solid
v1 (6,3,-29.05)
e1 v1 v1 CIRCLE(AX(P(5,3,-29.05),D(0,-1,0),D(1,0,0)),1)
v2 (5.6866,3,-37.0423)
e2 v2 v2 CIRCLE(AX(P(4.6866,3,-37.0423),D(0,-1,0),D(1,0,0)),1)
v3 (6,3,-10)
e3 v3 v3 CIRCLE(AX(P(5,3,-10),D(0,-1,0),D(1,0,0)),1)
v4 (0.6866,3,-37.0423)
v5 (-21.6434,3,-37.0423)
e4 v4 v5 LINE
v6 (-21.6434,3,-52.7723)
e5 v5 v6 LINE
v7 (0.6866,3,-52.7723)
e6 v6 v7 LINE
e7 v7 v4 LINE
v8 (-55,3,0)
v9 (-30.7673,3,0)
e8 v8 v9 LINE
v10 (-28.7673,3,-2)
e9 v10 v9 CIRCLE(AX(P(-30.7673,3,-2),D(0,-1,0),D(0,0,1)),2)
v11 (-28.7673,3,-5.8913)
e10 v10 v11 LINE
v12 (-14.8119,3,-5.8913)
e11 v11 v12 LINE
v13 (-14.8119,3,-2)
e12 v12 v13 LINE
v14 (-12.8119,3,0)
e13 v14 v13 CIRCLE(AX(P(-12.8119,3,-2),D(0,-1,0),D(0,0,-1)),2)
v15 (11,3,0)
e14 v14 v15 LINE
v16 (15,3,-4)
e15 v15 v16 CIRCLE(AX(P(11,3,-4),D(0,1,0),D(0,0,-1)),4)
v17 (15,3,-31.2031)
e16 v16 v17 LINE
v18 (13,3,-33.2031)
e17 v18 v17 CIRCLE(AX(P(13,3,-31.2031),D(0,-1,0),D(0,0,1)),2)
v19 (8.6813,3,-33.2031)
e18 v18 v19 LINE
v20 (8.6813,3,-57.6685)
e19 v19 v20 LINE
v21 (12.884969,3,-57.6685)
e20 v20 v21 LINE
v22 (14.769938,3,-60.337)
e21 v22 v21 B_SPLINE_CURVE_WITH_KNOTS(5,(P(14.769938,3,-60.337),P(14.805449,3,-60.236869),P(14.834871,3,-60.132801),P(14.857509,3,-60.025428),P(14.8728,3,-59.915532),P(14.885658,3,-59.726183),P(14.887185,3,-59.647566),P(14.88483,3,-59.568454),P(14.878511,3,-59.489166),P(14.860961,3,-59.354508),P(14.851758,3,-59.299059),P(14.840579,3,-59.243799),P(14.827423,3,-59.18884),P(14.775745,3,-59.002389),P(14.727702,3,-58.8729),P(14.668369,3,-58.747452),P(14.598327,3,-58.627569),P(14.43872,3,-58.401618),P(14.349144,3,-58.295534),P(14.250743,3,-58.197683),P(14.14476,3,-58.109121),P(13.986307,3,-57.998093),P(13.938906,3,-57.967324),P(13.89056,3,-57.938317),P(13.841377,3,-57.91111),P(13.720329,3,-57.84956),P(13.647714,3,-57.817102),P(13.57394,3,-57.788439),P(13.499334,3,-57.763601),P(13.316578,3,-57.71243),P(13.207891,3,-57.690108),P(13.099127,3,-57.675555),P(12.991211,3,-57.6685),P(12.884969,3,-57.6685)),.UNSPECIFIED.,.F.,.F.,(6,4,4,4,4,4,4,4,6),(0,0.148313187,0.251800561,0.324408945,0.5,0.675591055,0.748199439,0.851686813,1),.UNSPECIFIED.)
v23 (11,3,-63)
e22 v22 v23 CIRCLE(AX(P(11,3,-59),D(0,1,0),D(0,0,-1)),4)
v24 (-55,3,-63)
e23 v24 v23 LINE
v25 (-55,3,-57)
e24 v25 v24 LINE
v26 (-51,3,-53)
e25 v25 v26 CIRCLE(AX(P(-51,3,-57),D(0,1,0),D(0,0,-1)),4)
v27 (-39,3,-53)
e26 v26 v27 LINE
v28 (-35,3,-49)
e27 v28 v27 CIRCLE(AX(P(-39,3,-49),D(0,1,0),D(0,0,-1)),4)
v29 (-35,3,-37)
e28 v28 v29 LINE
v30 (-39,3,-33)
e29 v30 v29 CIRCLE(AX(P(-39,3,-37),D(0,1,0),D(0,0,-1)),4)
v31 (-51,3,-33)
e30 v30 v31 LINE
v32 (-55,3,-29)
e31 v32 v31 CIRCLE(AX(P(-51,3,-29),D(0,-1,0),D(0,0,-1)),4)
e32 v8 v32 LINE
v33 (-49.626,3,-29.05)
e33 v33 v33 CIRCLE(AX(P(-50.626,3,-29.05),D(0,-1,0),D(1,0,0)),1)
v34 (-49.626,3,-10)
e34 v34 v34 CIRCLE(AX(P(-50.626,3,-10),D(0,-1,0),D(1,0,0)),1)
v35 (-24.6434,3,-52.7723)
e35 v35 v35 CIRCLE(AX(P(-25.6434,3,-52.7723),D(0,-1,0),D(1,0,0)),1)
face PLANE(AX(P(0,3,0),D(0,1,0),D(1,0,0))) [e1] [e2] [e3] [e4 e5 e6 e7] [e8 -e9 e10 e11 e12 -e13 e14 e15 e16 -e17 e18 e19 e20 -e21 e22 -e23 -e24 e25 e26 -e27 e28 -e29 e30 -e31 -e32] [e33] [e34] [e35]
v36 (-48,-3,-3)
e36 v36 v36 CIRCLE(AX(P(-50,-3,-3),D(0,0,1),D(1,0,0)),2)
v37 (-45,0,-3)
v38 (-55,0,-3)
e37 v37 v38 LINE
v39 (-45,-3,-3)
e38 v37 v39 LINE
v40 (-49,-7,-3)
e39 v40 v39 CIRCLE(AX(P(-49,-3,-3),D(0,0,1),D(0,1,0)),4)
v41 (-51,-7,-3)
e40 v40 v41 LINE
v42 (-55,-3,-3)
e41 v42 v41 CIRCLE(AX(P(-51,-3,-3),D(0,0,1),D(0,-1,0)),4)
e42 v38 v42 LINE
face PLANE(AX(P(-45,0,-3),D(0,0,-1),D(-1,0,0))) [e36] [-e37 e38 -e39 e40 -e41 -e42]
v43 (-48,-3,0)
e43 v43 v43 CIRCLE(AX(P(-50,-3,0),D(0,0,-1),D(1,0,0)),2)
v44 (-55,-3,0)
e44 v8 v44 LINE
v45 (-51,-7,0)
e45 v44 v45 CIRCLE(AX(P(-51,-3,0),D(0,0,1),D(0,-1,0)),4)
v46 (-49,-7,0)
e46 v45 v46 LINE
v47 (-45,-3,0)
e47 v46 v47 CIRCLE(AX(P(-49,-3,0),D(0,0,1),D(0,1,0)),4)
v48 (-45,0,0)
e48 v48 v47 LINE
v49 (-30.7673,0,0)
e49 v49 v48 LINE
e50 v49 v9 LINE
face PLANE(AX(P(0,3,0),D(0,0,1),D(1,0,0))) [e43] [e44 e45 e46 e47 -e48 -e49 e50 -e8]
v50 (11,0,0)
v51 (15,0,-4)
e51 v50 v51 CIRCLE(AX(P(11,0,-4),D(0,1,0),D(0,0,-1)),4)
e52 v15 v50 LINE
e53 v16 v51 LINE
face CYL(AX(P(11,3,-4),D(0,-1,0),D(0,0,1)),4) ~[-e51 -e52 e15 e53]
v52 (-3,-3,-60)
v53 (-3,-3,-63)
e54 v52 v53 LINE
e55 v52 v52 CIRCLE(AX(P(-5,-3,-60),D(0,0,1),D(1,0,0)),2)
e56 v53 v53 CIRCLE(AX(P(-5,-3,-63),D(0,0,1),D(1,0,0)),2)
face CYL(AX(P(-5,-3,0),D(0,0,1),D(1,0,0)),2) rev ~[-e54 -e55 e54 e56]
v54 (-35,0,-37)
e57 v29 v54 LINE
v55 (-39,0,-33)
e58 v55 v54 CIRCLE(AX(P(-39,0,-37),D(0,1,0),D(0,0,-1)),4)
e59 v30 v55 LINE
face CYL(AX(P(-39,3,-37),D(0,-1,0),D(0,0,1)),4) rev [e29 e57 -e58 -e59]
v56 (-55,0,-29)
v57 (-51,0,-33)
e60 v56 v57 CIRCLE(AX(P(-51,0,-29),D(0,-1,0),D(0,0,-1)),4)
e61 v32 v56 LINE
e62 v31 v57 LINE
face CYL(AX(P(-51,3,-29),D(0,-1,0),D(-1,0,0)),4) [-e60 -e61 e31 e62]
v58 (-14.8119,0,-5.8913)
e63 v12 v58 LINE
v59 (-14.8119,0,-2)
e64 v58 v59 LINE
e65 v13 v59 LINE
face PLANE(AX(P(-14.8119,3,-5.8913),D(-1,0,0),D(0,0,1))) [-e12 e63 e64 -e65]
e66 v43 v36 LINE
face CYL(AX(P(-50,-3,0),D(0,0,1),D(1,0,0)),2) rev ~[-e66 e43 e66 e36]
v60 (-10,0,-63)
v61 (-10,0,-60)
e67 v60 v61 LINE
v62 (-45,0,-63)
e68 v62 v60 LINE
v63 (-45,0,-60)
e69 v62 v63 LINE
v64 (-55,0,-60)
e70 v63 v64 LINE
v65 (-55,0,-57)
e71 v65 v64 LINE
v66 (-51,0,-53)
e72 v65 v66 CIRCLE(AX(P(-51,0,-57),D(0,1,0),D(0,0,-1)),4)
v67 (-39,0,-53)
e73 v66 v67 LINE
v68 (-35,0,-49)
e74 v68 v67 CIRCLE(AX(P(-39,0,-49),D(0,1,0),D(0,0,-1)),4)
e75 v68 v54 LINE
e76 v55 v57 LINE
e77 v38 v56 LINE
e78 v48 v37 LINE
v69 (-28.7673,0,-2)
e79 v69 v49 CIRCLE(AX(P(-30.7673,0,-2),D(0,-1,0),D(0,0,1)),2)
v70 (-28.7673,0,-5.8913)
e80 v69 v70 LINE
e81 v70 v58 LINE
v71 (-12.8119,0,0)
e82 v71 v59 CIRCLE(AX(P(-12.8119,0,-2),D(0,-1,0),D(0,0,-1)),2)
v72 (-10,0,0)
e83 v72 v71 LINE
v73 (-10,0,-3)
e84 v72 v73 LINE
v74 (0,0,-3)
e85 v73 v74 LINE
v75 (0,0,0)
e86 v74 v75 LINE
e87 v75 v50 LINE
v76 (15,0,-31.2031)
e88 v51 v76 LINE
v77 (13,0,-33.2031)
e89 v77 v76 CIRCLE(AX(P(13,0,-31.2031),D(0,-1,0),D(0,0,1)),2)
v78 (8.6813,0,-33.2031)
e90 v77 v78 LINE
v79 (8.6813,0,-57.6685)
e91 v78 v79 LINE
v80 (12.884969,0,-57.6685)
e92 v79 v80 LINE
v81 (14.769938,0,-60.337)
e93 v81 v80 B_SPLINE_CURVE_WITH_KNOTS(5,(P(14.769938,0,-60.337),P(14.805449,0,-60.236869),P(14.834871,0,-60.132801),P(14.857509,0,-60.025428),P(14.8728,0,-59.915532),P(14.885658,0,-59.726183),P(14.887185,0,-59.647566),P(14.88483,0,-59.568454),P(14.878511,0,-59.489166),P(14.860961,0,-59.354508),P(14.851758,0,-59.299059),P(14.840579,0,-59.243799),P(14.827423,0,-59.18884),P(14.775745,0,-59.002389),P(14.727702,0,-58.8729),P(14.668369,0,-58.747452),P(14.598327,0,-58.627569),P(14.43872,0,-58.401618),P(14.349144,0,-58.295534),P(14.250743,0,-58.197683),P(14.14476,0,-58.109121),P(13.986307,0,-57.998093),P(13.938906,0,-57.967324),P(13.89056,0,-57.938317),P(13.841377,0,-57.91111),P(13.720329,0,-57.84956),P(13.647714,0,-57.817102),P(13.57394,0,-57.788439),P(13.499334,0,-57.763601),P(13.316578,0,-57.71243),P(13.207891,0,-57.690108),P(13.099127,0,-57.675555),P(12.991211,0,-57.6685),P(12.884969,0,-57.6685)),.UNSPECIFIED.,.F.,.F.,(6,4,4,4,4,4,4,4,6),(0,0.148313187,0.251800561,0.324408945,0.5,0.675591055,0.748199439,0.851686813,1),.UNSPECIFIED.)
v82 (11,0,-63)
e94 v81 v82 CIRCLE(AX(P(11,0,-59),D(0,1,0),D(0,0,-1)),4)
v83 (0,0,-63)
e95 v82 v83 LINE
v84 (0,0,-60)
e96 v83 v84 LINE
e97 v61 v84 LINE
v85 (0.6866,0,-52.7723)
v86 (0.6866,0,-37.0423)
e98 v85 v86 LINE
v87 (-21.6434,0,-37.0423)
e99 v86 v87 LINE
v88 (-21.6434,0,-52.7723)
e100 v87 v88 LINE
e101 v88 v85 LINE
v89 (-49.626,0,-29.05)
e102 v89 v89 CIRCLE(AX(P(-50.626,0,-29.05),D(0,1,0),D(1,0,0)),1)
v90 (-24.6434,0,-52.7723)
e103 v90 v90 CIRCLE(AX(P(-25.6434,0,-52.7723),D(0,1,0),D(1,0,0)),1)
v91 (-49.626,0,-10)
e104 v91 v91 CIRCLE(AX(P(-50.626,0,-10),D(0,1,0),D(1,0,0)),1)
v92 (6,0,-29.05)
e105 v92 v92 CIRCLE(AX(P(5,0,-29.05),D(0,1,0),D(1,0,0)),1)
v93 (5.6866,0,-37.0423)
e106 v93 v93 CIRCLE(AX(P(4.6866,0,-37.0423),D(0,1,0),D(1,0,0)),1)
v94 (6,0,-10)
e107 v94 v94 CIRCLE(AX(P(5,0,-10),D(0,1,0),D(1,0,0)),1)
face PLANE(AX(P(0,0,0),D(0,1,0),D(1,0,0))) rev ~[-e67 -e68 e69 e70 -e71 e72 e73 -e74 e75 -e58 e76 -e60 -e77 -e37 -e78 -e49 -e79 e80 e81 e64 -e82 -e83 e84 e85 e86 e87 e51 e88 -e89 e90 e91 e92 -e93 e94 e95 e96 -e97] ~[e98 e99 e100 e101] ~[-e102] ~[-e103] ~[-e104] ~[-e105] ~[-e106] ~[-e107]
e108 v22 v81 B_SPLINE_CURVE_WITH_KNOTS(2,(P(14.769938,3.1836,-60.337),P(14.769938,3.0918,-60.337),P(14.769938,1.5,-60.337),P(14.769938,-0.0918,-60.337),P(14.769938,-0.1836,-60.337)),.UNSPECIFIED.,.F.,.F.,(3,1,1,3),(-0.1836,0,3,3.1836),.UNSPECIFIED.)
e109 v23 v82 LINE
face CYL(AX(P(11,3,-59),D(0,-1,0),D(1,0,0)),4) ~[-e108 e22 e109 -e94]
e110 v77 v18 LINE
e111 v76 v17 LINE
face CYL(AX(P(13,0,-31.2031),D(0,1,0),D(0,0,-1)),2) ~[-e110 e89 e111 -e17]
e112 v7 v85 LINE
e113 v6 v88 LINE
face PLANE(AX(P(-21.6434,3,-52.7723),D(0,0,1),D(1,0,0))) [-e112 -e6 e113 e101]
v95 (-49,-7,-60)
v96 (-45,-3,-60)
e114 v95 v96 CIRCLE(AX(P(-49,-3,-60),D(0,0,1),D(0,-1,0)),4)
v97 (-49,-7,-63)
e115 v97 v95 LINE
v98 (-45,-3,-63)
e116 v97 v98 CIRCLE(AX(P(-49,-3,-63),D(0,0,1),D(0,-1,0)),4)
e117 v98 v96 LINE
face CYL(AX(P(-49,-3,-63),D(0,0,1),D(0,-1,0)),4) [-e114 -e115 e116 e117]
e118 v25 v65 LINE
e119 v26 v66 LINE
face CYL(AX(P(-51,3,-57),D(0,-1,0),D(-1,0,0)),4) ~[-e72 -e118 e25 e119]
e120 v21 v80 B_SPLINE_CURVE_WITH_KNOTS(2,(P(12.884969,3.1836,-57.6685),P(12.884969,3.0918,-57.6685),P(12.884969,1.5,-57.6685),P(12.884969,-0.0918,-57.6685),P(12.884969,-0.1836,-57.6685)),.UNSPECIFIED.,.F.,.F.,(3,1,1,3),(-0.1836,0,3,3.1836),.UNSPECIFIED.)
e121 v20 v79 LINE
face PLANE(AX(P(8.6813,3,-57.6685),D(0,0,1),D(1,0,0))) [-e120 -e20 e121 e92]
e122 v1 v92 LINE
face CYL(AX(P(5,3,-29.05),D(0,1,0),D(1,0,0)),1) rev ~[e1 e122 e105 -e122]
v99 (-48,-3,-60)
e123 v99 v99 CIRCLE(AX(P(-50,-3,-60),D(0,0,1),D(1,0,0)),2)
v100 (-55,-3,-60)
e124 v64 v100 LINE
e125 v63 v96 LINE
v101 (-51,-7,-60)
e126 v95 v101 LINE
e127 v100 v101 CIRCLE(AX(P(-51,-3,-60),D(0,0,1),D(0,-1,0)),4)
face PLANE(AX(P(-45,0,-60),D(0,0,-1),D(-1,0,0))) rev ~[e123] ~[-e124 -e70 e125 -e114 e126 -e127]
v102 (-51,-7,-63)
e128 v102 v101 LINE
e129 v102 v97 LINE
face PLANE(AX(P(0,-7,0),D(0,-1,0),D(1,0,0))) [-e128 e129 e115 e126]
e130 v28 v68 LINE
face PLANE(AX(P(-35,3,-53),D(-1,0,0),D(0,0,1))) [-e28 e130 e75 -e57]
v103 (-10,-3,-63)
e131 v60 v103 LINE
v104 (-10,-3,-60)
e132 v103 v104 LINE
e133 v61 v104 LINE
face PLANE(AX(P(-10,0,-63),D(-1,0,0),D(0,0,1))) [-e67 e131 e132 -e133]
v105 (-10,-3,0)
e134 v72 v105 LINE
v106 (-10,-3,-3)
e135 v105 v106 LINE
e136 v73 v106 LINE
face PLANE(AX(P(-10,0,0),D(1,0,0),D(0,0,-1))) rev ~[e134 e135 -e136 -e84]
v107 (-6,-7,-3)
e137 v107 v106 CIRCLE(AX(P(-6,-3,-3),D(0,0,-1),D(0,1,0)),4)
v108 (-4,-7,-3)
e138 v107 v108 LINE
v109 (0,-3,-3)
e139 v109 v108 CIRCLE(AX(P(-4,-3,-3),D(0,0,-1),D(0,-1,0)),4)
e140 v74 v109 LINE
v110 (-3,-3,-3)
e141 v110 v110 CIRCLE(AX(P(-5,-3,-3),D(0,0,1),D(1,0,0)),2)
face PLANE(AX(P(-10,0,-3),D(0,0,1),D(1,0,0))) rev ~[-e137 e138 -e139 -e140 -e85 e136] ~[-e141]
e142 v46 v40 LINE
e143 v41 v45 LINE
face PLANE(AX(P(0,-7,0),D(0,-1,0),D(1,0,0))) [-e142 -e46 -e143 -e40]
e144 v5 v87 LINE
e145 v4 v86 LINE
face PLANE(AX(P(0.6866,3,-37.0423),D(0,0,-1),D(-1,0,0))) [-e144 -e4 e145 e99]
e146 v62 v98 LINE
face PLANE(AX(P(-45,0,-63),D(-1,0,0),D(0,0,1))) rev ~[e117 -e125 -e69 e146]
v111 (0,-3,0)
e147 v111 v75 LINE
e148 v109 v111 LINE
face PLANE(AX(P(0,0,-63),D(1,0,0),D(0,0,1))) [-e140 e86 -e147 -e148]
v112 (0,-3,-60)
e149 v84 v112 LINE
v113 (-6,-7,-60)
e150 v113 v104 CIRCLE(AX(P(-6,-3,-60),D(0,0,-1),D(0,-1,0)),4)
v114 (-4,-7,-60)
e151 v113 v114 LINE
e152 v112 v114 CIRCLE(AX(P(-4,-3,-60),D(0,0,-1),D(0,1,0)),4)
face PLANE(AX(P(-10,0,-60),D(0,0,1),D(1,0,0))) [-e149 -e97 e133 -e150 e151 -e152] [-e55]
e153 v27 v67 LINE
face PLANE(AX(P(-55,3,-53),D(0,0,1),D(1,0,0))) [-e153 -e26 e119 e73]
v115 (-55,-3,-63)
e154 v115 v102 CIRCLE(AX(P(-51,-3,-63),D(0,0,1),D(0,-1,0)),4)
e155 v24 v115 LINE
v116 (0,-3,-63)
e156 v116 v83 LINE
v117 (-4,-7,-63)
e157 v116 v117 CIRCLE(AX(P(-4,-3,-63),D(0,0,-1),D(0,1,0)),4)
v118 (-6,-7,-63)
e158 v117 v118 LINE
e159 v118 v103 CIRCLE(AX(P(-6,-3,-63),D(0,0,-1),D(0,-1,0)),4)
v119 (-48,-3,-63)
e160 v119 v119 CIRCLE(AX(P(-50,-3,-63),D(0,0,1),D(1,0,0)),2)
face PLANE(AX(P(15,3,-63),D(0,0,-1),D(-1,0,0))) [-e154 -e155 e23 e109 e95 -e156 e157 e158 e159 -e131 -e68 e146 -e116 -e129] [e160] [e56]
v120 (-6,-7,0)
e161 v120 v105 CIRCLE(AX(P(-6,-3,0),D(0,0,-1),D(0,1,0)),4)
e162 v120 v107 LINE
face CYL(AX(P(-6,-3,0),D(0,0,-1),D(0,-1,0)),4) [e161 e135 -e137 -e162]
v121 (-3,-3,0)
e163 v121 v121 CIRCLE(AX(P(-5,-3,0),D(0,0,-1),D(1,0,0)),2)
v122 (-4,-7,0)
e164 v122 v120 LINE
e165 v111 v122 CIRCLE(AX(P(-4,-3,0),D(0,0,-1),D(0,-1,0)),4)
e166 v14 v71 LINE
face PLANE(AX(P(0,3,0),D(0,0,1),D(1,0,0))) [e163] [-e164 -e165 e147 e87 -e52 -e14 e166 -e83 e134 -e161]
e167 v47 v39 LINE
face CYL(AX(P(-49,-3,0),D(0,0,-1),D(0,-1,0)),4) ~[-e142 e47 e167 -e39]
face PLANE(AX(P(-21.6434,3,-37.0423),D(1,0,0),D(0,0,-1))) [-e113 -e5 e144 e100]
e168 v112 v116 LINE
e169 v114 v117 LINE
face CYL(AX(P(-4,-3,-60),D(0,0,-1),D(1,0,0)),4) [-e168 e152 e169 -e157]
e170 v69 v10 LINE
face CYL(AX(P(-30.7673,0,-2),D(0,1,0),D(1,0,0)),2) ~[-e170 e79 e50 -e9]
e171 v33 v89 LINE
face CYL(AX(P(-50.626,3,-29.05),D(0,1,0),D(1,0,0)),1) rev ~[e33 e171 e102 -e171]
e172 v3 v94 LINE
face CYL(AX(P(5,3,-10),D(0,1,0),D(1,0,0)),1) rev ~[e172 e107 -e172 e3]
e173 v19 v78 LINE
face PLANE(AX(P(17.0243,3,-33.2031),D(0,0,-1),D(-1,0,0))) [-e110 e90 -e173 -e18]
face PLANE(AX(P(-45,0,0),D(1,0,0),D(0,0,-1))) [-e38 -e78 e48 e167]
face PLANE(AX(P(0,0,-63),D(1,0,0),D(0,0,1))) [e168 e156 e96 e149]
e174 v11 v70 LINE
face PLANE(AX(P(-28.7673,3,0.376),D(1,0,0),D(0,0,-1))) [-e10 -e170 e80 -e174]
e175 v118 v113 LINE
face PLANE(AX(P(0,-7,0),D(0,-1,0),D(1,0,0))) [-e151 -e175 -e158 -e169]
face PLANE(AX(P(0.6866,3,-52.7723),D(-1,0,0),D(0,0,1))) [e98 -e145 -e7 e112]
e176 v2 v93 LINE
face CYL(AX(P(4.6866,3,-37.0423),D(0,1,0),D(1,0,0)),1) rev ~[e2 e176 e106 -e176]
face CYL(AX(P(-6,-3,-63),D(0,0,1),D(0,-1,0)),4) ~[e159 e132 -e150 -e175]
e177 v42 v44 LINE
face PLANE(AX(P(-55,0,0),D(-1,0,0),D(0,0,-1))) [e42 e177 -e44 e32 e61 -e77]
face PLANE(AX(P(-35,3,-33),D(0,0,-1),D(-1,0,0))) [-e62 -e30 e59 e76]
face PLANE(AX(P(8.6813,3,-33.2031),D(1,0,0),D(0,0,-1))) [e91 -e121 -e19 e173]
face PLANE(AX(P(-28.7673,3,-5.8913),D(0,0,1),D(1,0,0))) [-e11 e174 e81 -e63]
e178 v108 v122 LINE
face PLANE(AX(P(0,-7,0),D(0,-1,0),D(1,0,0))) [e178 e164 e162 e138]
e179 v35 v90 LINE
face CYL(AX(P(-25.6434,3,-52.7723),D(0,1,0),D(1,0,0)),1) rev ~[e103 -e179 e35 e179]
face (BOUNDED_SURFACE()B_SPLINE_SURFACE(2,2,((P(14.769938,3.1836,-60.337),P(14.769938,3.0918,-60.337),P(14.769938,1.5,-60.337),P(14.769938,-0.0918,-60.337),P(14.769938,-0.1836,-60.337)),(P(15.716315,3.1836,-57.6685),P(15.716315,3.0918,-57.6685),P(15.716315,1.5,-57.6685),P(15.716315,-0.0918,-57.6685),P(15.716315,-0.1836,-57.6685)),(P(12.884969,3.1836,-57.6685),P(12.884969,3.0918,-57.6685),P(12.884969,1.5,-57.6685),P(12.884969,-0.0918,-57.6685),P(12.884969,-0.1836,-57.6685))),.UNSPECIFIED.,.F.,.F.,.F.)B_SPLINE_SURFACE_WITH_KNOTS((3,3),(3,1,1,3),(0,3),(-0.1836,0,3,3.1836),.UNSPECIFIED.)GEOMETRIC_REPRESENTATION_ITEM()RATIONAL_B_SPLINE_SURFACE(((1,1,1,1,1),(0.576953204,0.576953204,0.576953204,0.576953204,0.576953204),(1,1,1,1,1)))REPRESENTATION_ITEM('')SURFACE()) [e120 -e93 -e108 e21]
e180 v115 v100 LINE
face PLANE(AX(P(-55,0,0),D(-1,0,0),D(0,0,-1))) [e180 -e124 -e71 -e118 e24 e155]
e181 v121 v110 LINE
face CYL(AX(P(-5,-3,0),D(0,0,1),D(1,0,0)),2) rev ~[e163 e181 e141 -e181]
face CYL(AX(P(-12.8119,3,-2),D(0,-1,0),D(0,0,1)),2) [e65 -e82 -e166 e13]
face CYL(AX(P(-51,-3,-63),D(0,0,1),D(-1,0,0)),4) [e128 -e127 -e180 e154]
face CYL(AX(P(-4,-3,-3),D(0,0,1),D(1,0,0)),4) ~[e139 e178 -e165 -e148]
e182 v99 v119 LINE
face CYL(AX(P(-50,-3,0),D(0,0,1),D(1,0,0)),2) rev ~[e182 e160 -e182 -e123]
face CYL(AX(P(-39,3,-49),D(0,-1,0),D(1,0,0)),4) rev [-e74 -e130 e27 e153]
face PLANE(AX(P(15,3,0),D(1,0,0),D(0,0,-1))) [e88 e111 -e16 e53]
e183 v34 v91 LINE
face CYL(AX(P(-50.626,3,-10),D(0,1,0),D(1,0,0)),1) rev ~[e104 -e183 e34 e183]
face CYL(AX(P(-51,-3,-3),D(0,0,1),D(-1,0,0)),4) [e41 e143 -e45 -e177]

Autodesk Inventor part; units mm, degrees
ref_plane "YZ Plane" through (0, 0, 0) normal (1, 0, 0) x (0, 1, 0)
ref_plane "XZ Plane" through (0, 0, 0) normal (0, 1, 0) x (-1, 0, 0)
ref_plane "XY Plane" through (0, 0, 0) normal (0, 0, 1) x (1, 0, 0)
sketch "Sketch1" plane through (0, 0, 0) normal (0, 1, 0) x (-1, 0, 0)
  line L0 (0, 0) -> (55, 0)
  line L1 (55, 0) -> (55, -63)
  line L2 (55, -63) -> (0, -63)
  line L3 (0, -63) -> (0, 0)
  dimension "d0" = 55
  dimension "d1" = 63
extrude "Extrusion1" add sketch "Sketch1" along normal blind 3
sketch "Sketch2" plane through (0, 0, 0) normal (0, -1, 0) x (1, 0, 0)
  line L0 (0, 0) -> (-10, 0)
  line L1 (-10, 0) -> (-10, -3)
  line L2 (-10, -3) -> (0, -3)
  line L3 (0, -3) -> (0, 0)
  line L4 (-55, -63) -> (-55, 0) projected
  line L5 (-55, 0) -> (-45, 0)
  line L6 (-45, 0) -> (-45, -3)
  line L7 (-45, -3) -> (-55, -3)
  line L8 (-55, -3) -> (-55, 0)
  line L9 (-55, -63) -> (-45, -63)
  line L10 (-45, -63) -> (-45, -60)
  line L11 (-45, -60) -> (-55, -60)
  line L12 (-55, -60) -> (-55, -63)
  line L13 (0, -63) -> (-10, -63)
  line L14 (-10, -63) -> (-10, -60)
  line L15 (-10, -60) -> (0, -60)
  line L16 (0, -60) -> (0, -63)
  dimension "d4" = 10
  dimension "d5" = 3
  dimension "d6" = 10
  dimension "d7" = 3
  dimension "d8" = 10
  dimension "d9" = 3
  dimension "d10" = 10
  dimension "d11" = 3
extrude "Extrusion2" add sketch "Sketch2" along normal blind 7
sketch "Sketch3" plane through (-55, 3, 0) normal (0, 0, 1) x (1, 0, 0)
  line L0 (10, -10) -> (0, -10) projected
  line L1 (0, -10) -> (5, -10)
  line L2 (5, -10) -> (5, -6)
  line L3 (5, -6) -> (0, -6)
  line L4 (0, -6) -> (0, -10)
  line L5 (45, -3) -> (45, -10) projected
  line L6 (45, -10) -> (50, -10)
  line L7 (50, -10) -> (50, -6)
  line L8 (50, -6) -> (45, -6)
  line L9 (45, -6) -> (45, -10)
  circle A0 centre (5, -6) radius 2
  circle A1 centre (50, -6) radius 2
  point P0 (55, -3)
  dimension "d14" = 5
  dimension "d15" = 4
  dimension "d16" = 5
  dimension "d17" = 4
  dimension "d18" = 4
  dimension "d19" = 4
extrude "Extrusion3" cut sketch "Sketch3" against normal up to surface (63 mm away) contours A0 L3 L2 | L2 L3 A0 | A1 L7 L8 | L8 L7 A1
fillet "Fillet1" radius 4 8 edges at (0, -7, -1.5) (-10, -7, -61.5) (0, -7, -61.5) (-45, -7, -61.5) (-55, -7, -61.5) (-45, -7, -1.5) (-55, -7, -1.5) (-10, -7, -1.5)
sketch "Sketch4" plane through (0, 3, 0) normal (0, 1, 0) x (1, 0, 0)
  line L0 (0, 0) -> (15, 0)
  line L1 (15, 0) -> (15, 63)
  line L2 (15, 63) -> (0, 63)
  line L3 (0, 63) -> (0, 0)
  dimension "d23" = 15
  dimension "d24" = 63
extrude "Extrusion4" add sketch "Sketch4" against normal blind 3
sketch "Sketch5" plane through (0, 3, 0) normal (0, 1, 0) x (1, 0, 0)
  line L0 (14.6866, 62.7723) -> (4.6866, 62.7723)
  line L1 (4.6866, 62.7723) -> (4.6866, 52.7723)
  line L2 (4.6866, 52.7723) -> (14.6866, 52.7723)
  line L3 (14.6866, 52.7723) -> (14.6866, 62.7723)
  line L4 (4.6866, 52.7723) -> (-25.6434, 52.7723)
  line L5 (-25.6434, 52.7723) -> (-25.6434, 37.0423)
  line L6 (-25.6434, 37.0423) -> (4.6866, 37.0423)
  line L7 (4.6866, 37.0423) -> (4.6866, 52.7723)
  circle A0 centre (-25.6434, 52.7723) radius 1
  circle A1 centre (4.6866, 37.0423) radius 1
  circle A2 centre (4.6866, 37.0423) radius 2
  circle A3 centre (-25.6434, 52.7723) radius 2
  point P0 (0, 0)
  dimension "d27" = 10
  dimension "d28" = 10
  dimension "d29" = 30.33
  dimension "d30" = 15.73
  dimension "d31" = 2
  dimension "d32" = 2
  dimension "d33" = 4
  dimension "d34" = 4
extrude "Extrusion5" cut sketch "Sketch5" against normal blind 3 contours A0 L5 L4 | L4 L5 A0 | A1 L6 L7 | L7 L6 A1
sketch "Sketch6" plane through (0, 3, 0) normal (0, 1, 0) x (1, 0, 0)
  line L0 (15, 63) -> (-55, 63) projected
  line L1 (-55, 63) -> (-55, 53)
  line L2 (-55, 53) -> (-35, 53)
  line L3 (-35, 53) -> (-35, 33)
  line L4 (-35, 33) -> (-55, 33)
  line L5 (-55, 33) -> (-55, 53)
  point P0 (0, 0)
  dimension "d37" = 10
  dimension "d38" = 20
  dimension "d39" = 20
extrude "Extrusion6" cut sketch "Sketch6" against normal blind 3
fillet "Fillet2" radius 4 4 edges at (-35, 1.5, -53) (-35, 1.5, -33) (-55, 1.5, -53) (-55, 1.5, -33)
fillet "Fillet3" radius 4 2 edges at (15, 1.5, 0) (15, 1.5, -63)
sketch "Sketch7" plane through (0, 3, 0) normal (0, 1, 0) x (1, 0, 0)
  line L0 (15, 0) -> (5, 0)
  line L1 (5, 0) -> (5, 10)
  line L2 (5, 10) -> (15, 10)
  line L3 (15, 10) -> (15, 0)
  line L4 (5, 10) -> (-50.626, 10)
  line L5 (-50.626, 10) -> (-50.626, 16.3068)
  line L6 (5, 16.3068) -> (5, 10)
  line L7 (5, 10) -> (-50.626, 10)
  line L8 (-50.626, 10) -> (-50.626, 29.05)
  line L9 (-50.626, 29.05) -> (5, 29.05)
  line L10 (5, 29.05) -> (5, 10)
  circle A0 centre (-50.626, 10) radius 1
  circle A1 centre (-50.626, 29.05) radius 1
  circle A2 centre (5, 29.05) radius 1
  circle A3 centre (5, 10) radius 1
  point P0 (0, 0)
  dimension "d44" = 10
  dimension "d45" = 10
  dimension "d48" = 55.626
  dimension "d49" = 19.05
  dimension "d50" = 2
  dimension "d51" = 2
  dimension "d52" = 2
  dimension "d53" = 2
extrude "Extrusion7" cut sketch "Sketch7" against normal blind 3 contours A3 L4 L1 | L1 L2 A3 | L2 L6 A3 | L4 A3 L6 | A0 L5 L4 | L4 L5 A0 | A2 L9 L10 | L10 L9 A2 | A1 L9 L8 | L8 L9 A1
sketch "Sketch8" plane through (0, 3, 0) normal (0, 1, 0) x (1, 0, 0)
  circle A0 centre (-25.6434, 52.7723) radius 1 projected
  line L0 (-25.6434, 52.7723) -> (-21.6434, 52.7723)
  circle A1 centre (4.6866, 37.0423) radius 1 projected
  line L1 (4.6866, 37.0423) -> (0.6866, 37.0423)
  line L2 (-21.6434, 52.7723) -> (0.6866, 52.7723)
  line L3 (0.6866, 52.7723) -> (0.6866, 37.0423)
  line L4 (0.6866, 37.0423) -> (-21.6434, 37.0423)
  line L5 (-21.6434, 37.0423) -> (-21.6434, 52.7723)
  point P0 (0, 0)
  dimension "d56" = 4
  dimension "d57" = 4
extrude "Extrusion8" cut sketch "Sketch8" against normal blind 10 contours L2 L3 L4 L5
sketch "Sketch9" plane through (0, 3, 0) normal (0, 1, 0) x (1, 0, 0)
  line L0 (-28.7673, 5.8913) -> (-14.8119, 5.8913)
  line L1 (-14.8119, 5.8913) -> (-14.8119, -0.376)
  line L2 (-14.8119, -0.376) -> (-28.7673, -0.376)
  line L3 (-28.7673, -0.376) -> (-28.7673, 5.8913)
  point P0 (0, 0)
extrude "Extrusion9" cut sketch "Sketch9" against normal blind 10
fillet "Fillet4" radius 2 2 edges at (-28.7673, 1.5, 0) (-14.8119, 1.5, 0)
sketch "Sketch11" plane through (0, 3, 0) normal (0, 1, 0) x (1, 0, 0)
  line L0 (17.0243, 33.2031) -> (8.6813, 33.2031)
  line L1 (8.6813, 33.2031) -> (8.6813, 57.6685)
  line L2 (8.6813, 57.6685) -> (17.0243, 57.6685)
  line L3 (17.0243, 57.6685) -> (17.0243, 33.2031)
  point P0 (0, 0)
extrude "Extrusion11" cut sketch "Sketch11" against normal blind 10
fillet "Fillet5" radius 2 2 edges at (15, 1.5, -57.6685) (15, 1.5, -33.2031)
properties part number "servo_driver_support"
